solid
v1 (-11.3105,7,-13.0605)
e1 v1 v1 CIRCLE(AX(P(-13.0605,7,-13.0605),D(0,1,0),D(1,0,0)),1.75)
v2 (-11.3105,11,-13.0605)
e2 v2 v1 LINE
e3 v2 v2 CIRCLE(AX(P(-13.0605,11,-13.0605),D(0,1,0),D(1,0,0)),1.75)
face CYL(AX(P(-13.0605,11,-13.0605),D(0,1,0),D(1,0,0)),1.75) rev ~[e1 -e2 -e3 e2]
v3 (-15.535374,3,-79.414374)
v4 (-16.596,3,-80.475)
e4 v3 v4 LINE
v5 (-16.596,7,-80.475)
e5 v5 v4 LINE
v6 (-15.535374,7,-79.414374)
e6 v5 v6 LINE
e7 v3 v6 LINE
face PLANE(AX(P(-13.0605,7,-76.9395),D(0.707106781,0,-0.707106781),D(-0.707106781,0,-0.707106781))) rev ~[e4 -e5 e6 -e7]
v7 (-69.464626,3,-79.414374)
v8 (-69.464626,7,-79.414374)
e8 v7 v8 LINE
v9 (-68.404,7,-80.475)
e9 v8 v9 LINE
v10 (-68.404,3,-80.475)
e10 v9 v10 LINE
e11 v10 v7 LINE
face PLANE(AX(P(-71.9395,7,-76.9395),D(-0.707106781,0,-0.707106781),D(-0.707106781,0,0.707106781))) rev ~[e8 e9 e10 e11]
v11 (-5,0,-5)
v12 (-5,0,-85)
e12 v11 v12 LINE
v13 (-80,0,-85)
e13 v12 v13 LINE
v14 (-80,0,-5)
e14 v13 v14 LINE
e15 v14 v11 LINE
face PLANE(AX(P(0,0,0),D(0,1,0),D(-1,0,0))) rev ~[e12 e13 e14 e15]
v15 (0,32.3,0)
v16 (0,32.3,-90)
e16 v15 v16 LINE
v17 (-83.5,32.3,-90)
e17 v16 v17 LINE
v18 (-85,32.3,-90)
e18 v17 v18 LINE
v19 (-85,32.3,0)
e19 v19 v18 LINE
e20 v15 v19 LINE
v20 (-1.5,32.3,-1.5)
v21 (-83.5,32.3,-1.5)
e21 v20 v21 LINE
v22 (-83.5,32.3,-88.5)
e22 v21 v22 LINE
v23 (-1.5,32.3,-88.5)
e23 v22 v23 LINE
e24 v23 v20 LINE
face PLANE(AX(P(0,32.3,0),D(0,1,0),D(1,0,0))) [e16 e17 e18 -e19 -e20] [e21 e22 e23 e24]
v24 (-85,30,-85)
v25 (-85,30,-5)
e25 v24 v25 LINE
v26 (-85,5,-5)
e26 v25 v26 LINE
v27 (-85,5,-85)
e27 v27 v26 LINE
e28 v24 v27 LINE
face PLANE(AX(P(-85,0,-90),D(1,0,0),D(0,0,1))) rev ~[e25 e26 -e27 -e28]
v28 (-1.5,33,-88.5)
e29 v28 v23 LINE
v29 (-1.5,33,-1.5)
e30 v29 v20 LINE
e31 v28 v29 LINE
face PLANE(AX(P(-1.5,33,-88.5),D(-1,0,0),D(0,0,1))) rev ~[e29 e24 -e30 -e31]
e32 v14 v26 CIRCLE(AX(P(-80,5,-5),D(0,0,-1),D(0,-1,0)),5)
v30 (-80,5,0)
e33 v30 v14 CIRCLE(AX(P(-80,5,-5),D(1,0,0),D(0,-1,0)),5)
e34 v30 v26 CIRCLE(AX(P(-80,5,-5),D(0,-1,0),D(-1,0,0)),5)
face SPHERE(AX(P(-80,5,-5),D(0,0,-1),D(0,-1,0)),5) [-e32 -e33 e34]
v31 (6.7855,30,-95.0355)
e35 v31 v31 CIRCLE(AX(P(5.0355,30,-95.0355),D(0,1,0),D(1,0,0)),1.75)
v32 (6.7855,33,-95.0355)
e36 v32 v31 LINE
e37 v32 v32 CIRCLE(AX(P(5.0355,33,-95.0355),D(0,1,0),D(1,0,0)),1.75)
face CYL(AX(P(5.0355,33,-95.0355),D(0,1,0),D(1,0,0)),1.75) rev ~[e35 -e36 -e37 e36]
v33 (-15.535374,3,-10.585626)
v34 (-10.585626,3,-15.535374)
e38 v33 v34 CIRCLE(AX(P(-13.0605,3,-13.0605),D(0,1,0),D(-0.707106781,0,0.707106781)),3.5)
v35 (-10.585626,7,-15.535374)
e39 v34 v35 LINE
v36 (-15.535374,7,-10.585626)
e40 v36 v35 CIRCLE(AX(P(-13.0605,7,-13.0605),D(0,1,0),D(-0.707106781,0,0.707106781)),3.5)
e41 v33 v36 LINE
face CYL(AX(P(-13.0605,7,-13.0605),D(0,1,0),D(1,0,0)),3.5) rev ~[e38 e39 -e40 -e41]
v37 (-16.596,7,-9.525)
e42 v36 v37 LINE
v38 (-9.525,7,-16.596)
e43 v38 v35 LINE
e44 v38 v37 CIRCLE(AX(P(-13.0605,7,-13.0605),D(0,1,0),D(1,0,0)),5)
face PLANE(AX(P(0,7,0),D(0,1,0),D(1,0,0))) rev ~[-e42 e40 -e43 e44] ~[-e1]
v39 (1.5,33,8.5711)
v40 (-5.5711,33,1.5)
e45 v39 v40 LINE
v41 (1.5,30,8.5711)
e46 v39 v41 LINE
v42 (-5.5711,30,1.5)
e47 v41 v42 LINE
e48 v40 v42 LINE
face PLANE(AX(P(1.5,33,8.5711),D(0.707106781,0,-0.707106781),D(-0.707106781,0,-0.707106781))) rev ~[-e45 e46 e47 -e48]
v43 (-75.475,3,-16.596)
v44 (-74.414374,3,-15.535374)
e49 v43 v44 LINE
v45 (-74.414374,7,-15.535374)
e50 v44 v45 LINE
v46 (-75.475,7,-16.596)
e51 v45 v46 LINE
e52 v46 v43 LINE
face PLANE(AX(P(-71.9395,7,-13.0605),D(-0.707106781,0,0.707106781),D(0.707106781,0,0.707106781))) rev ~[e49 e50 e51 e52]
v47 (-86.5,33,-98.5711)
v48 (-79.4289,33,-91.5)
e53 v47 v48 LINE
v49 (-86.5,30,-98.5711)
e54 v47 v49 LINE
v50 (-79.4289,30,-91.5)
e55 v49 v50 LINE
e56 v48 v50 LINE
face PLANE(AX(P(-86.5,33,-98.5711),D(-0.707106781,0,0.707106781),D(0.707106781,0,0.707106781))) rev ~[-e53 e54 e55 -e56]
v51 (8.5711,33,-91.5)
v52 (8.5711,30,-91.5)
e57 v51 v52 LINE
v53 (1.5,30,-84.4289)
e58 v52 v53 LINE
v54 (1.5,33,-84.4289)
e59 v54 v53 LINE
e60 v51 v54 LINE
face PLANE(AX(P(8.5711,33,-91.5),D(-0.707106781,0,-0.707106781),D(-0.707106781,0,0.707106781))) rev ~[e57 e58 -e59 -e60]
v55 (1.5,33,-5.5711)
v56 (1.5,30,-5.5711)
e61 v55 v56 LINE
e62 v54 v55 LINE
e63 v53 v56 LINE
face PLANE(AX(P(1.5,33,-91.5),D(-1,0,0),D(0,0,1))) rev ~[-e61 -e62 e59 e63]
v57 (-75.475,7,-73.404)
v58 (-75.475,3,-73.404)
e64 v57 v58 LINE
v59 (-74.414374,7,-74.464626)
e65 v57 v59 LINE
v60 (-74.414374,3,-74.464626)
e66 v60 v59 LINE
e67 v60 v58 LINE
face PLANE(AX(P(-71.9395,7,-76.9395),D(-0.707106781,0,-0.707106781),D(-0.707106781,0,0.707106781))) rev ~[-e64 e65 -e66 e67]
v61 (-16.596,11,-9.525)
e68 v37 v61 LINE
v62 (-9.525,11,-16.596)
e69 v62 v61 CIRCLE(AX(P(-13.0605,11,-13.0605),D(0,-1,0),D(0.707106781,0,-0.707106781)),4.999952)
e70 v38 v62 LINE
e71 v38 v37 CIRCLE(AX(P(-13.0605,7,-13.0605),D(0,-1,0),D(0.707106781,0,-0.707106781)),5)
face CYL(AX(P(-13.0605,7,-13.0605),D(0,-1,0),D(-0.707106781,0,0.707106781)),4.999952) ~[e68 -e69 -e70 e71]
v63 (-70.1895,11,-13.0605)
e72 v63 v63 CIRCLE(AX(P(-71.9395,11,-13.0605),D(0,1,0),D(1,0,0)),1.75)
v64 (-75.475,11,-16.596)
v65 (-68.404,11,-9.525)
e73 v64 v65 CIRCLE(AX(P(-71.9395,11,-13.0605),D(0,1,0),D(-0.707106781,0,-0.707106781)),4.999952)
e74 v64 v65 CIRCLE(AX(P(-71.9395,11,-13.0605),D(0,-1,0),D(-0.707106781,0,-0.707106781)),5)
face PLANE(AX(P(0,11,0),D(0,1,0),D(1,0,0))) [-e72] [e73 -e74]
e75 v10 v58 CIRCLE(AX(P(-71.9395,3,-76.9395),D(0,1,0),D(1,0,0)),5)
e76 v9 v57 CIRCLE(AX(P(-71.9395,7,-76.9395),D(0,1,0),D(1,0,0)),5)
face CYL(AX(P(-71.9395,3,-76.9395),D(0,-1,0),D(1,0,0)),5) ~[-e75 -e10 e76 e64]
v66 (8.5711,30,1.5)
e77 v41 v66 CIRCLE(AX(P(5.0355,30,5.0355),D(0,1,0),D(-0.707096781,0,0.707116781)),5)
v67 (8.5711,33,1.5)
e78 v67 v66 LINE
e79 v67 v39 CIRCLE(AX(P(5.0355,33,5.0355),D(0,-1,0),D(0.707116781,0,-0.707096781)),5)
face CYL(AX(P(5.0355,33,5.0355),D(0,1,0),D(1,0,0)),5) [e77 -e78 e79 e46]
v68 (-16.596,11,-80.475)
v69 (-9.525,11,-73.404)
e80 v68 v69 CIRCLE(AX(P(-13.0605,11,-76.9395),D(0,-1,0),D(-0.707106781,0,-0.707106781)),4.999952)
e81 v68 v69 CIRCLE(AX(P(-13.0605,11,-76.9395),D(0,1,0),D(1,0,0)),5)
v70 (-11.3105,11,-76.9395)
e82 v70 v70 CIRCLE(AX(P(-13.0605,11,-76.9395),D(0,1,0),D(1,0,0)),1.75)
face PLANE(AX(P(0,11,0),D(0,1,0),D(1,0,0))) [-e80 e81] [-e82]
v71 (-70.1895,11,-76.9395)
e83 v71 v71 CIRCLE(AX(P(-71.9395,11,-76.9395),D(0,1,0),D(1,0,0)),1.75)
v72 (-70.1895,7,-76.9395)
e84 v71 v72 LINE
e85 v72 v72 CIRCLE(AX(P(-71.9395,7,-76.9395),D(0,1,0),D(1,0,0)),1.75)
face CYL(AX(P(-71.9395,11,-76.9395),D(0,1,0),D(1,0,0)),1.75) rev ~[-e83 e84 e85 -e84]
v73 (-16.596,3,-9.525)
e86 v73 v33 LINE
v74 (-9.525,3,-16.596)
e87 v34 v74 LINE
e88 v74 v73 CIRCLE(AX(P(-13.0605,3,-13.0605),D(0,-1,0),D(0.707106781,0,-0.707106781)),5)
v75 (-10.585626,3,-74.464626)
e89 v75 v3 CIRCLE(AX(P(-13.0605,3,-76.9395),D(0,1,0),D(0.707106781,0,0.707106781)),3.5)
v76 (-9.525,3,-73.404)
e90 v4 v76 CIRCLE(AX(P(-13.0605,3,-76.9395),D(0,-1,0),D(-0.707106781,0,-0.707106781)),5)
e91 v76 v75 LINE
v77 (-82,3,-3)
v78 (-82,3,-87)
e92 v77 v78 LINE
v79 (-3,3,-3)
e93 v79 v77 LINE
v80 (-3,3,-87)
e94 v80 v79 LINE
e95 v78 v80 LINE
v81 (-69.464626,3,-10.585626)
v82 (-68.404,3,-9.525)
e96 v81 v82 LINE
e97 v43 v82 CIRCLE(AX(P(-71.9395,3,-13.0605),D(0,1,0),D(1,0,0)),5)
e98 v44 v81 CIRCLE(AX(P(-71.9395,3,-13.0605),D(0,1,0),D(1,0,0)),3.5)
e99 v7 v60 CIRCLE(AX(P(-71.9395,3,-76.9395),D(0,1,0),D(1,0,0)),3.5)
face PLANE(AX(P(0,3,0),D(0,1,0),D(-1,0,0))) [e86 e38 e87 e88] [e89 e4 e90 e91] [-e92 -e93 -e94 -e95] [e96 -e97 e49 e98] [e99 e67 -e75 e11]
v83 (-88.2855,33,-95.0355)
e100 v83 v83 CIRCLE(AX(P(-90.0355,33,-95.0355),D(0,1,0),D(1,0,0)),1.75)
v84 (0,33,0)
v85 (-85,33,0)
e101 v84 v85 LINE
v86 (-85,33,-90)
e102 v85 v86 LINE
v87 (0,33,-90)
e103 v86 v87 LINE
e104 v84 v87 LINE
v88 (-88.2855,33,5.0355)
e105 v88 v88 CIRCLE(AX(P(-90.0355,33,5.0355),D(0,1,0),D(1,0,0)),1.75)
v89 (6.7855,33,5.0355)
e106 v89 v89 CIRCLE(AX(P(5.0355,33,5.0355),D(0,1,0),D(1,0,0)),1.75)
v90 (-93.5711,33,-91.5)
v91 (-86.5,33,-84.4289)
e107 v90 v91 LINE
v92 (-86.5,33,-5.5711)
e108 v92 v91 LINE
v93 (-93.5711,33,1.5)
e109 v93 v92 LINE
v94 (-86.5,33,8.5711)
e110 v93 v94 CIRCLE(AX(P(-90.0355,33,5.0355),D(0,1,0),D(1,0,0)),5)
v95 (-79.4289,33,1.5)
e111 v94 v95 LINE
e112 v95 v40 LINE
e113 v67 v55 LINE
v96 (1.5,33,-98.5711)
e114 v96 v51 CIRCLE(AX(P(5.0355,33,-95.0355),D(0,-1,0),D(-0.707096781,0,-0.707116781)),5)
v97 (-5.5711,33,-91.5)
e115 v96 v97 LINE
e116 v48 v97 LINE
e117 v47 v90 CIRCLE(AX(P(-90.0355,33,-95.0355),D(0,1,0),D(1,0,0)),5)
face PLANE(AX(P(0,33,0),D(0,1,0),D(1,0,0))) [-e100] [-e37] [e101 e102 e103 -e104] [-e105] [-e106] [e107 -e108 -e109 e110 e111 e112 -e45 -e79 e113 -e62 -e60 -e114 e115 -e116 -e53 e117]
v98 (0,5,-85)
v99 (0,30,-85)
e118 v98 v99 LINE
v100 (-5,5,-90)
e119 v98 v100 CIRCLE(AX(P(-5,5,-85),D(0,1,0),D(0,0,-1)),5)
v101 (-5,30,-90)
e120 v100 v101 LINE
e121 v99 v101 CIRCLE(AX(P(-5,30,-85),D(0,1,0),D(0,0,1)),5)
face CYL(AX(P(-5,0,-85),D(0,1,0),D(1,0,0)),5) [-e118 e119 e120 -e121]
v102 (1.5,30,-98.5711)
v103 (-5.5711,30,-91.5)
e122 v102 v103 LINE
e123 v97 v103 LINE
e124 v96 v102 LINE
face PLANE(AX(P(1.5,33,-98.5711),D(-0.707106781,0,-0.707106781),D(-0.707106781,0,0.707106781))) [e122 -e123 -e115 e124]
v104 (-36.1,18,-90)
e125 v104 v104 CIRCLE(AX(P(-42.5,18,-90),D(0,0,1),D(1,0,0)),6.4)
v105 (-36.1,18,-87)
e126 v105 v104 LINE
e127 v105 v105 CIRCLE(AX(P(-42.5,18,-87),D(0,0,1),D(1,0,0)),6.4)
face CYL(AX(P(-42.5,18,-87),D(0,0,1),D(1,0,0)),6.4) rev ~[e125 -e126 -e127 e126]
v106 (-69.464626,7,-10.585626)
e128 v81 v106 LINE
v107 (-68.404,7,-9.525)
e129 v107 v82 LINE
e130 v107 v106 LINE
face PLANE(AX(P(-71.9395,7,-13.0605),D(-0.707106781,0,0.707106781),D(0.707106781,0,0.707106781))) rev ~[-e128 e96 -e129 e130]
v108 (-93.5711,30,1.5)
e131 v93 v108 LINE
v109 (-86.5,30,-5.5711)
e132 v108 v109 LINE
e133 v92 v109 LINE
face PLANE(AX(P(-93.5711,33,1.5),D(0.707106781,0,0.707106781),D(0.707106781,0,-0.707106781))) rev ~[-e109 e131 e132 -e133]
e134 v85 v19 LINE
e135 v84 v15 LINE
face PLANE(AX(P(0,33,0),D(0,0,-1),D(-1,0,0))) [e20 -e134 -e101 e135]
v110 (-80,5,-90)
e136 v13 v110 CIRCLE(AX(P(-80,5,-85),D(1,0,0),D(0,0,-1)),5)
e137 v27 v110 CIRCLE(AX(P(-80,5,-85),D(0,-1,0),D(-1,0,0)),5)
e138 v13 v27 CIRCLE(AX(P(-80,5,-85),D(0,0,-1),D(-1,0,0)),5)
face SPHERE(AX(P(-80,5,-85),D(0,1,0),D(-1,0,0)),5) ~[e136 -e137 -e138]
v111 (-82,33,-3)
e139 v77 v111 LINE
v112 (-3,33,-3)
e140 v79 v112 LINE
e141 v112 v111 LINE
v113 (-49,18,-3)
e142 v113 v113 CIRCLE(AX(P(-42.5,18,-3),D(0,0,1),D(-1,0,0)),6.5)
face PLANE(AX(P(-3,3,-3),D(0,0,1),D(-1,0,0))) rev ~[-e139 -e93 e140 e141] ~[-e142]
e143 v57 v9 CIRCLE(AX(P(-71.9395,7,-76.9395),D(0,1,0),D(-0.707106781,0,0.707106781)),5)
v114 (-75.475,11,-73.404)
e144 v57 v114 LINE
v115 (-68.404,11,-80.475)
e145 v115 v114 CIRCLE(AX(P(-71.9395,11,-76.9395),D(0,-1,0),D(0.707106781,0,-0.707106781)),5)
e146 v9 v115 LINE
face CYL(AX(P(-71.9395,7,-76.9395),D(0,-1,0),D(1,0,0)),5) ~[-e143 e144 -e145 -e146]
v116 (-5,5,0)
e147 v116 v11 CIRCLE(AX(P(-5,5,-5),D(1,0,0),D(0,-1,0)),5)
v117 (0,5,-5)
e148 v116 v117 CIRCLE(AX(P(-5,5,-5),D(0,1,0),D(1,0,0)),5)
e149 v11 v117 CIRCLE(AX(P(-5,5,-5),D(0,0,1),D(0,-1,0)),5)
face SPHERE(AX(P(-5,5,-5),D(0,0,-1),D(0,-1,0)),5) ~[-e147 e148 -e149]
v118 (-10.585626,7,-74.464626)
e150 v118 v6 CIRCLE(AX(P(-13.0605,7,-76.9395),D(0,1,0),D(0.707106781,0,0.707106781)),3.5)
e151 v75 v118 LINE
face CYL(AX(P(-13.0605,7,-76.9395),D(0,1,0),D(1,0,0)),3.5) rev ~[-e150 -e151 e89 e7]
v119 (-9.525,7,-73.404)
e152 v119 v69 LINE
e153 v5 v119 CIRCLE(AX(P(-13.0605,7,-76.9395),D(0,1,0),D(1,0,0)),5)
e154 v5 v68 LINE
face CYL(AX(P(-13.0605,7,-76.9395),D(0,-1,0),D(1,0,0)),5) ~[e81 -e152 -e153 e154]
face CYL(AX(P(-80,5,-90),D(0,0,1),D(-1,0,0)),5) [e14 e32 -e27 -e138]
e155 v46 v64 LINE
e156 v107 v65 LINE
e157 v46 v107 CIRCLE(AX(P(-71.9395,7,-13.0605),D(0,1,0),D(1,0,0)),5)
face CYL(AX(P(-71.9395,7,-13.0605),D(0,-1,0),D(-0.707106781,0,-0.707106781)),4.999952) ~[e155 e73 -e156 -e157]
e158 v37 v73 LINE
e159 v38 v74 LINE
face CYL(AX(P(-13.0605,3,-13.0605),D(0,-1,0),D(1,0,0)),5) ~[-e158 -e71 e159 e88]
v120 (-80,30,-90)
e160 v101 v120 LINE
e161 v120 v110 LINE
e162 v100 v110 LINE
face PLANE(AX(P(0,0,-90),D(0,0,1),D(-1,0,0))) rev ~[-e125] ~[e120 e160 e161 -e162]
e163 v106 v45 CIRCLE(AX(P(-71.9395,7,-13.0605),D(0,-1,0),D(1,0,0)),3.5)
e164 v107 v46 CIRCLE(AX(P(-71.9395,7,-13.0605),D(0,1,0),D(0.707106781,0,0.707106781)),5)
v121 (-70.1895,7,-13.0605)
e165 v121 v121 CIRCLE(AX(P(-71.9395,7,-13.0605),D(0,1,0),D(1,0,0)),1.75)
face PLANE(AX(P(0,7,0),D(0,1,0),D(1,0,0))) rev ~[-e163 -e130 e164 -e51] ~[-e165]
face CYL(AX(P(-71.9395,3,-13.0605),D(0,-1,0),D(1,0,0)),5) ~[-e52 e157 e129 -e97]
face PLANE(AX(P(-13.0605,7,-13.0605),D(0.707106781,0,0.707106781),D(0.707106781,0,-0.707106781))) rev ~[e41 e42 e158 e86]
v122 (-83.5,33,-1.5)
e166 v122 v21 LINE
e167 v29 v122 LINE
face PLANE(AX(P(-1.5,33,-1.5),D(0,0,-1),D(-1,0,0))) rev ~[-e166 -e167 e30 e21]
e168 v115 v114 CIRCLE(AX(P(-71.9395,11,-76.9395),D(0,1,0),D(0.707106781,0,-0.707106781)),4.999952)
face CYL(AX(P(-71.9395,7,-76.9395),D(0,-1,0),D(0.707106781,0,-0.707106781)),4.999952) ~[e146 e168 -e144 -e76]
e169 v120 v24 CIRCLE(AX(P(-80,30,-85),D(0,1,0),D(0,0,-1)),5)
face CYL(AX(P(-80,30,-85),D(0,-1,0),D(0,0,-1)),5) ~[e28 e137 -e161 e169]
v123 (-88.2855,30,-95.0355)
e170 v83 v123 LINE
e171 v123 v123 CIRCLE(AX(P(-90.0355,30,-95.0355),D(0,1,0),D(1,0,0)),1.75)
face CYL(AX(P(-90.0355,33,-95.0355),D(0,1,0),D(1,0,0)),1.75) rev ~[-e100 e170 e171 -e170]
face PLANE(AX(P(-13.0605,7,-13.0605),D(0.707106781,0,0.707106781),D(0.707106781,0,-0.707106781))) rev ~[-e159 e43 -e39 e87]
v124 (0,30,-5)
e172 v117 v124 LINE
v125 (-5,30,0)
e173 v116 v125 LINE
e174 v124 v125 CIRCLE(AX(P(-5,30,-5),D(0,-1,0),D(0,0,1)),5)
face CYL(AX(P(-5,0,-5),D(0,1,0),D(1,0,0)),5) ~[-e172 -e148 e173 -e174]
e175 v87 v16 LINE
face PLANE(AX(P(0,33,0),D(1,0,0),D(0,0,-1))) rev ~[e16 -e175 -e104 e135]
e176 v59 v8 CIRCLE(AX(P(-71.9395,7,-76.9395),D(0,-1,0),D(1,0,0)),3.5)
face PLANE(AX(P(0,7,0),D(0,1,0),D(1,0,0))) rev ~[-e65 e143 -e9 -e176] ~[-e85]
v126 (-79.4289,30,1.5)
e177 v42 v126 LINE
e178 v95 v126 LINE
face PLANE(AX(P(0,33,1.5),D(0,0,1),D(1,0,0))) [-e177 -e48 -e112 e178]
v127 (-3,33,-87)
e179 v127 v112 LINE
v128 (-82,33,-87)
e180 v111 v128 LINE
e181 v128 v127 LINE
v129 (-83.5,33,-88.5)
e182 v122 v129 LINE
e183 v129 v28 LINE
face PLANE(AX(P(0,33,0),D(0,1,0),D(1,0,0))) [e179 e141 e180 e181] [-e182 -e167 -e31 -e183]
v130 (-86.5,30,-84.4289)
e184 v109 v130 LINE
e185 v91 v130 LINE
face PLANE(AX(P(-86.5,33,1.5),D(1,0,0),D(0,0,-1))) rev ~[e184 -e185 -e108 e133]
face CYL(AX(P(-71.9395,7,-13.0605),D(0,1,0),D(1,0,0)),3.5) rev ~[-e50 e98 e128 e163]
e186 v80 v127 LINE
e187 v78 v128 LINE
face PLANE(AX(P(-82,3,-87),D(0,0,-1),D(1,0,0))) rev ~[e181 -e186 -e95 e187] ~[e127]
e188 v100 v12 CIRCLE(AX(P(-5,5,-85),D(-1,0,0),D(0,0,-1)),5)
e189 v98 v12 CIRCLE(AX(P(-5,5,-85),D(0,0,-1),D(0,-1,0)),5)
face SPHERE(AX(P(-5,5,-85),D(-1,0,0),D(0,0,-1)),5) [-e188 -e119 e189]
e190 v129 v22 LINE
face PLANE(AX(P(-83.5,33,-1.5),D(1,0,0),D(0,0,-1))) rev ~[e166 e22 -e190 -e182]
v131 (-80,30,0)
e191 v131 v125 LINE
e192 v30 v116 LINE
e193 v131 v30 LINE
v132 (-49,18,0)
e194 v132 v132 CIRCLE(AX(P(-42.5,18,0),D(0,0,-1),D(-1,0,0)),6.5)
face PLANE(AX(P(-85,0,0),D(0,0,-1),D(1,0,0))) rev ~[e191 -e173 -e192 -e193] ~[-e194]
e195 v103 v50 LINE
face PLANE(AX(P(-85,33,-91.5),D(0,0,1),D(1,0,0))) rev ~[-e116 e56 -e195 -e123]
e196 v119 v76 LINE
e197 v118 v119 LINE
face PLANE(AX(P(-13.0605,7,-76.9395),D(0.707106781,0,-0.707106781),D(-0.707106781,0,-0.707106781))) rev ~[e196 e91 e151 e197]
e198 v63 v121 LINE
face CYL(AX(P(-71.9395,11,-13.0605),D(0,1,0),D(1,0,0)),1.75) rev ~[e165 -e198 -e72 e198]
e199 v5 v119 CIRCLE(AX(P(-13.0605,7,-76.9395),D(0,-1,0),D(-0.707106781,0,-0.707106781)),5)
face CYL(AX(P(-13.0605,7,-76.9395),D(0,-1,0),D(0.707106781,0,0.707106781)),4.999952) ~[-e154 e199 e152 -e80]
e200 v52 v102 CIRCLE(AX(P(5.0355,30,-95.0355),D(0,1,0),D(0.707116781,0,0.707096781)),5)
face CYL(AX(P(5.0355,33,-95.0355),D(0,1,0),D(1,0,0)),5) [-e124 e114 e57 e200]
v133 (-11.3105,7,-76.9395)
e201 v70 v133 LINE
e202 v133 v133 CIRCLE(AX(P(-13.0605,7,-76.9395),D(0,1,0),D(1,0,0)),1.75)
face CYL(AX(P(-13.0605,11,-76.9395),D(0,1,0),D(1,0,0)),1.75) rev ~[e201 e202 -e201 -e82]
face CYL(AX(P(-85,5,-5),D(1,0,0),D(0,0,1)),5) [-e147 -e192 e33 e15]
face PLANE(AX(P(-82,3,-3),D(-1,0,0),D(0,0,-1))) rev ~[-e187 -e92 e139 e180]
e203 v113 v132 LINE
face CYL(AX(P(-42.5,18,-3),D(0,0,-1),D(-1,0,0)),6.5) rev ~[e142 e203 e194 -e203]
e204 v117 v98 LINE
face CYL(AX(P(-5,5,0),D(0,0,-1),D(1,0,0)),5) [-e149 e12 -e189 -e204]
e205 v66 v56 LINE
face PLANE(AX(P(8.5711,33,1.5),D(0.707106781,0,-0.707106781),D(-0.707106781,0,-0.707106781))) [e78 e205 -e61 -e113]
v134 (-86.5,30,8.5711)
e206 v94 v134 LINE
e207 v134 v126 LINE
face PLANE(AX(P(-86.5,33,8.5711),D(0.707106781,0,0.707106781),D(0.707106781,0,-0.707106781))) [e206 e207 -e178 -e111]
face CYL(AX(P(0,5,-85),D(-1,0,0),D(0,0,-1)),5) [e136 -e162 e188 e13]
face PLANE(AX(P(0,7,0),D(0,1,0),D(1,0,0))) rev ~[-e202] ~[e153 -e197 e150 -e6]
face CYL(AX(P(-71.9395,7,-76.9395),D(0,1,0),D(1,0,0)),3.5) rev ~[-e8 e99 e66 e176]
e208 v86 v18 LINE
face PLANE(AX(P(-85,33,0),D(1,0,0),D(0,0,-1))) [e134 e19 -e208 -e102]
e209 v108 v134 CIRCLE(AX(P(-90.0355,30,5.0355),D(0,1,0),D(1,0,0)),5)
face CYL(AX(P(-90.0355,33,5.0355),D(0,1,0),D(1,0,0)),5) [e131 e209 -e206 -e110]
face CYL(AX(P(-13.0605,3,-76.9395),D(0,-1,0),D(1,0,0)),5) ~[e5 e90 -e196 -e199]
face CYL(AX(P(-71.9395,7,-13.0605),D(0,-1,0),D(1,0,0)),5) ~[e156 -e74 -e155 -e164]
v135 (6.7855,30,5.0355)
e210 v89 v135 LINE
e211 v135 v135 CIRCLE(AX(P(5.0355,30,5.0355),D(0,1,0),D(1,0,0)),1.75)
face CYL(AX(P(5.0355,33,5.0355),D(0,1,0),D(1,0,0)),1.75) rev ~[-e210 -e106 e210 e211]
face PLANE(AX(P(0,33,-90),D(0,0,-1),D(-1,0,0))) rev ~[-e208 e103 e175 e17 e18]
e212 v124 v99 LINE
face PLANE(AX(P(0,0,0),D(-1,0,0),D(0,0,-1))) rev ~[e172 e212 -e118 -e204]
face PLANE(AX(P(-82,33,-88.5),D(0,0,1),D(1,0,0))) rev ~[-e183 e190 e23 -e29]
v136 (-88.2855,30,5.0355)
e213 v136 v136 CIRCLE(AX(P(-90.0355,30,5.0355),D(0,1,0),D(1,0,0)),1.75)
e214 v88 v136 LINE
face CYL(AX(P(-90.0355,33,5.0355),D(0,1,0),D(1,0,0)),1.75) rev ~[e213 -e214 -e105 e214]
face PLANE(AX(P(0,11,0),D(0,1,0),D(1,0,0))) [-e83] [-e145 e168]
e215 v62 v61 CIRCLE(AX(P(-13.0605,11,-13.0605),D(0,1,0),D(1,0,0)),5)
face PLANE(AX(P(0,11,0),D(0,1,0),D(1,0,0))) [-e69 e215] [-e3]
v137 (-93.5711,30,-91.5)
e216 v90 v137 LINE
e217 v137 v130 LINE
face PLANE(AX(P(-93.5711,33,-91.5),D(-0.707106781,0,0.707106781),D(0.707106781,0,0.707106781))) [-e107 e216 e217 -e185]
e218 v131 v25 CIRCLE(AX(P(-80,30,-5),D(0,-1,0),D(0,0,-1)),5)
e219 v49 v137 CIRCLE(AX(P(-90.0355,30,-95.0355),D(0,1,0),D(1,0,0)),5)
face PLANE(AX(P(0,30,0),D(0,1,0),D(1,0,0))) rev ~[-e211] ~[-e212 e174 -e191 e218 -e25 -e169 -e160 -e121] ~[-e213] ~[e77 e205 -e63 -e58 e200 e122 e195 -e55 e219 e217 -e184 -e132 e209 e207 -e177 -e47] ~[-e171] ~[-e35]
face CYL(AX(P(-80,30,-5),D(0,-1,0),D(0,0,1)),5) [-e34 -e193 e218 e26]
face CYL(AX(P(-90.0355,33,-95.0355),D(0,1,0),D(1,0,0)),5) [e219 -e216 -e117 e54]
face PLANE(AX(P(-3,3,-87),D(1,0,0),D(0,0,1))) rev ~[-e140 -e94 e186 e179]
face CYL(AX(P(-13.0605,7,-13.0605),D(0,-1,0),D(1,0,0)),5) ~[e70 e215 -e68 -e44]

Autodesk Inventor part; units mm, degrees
ref_plane "YZ Plane" through (0, 0, 0) normal (1, 0, 0) x (0, 1, 0)
ref_plane "XZ Plane" through (0, 0, 0) normal (0, 1, 0) x (-1, 0, 0)
ref_plane "XY Plane" through (0, 0, 0) normal (0, 0, 1) x (1, 0, 0)
sketch "Sketch1" plane through (0, 0, 0) normal (0, 1, 0) x (-1, 0, 0)
  point P0 (0, 0)
sketch "Sketch2" plane through (0, 0, 0) normal (0, 1, 0) x (-1, 0, 0)
  line L0 (0, 0) -> (0, -90)
  line L1 (0, -90) -> (85, -90)
  line L2 (85, -90) -> (85, 0)
  line L3 (85, 0) -> (0, 0)
  dimension "d0" = 90
  dimension "d1" = 85
extrude "Extrusion1" add sketch "Sketch2" along normal blind 3
sketch "Sketch3" plane through (0, 3, 0) normal (0, 1, 0) x (1, 0, 0)
  line L0 (0, 0) -> (0, 3)
  line L1 (0, 0) -> (0, 90) projected
  line L2 (0, 3) -> (0, 0)
  line L3 (-85, 90) -> (-85, 0) projected
  line L4 (0, 90) -> (-85, 90) projected
  line L5 (-3, 3) -> (-82, 3)
  line L6 (-82, 3) -> (-82, 87)
  line L7 (-82, 87) -> (-3, 87)
  line L8 (-3, 87) -> (-3, 3)
  line L9 (0, 90) -> (-85, 90) projected
  line L10 (-85, 0) -> (0, 0) projected
  line L11 (-85, 90) -> (0, 90)
  line L12 (0, 90) -> (0, 0)
  line L13 (0, 0) -> (-85, 0)
  line L14 (-85, 0) -> (-85, 90)
extrude "Extrusion2" add sketch "Sketch3" along normal blind 30
sketch "Sketch7" plane through (-82, 3, -87) normal (0, 0, 1) x (1, 0, 0)
  point P0 (82, -3)
sketch "Sketch8" plane through (0, 33, 0) normal (0, 1, 0) x (1, 0, 0)
  line L0 (-3, 3) -> (-3, 87) projected
  line L1 (-3, 87) -> (-82, 87) projected
  line L2 (-82, 87) -> (-82, 3) projected
  line L3 (-82, 3) -> (-3, 3) projected
  line L4 (0, 0) -> (0, 90) projected
  line L5 (0, 90) -> (-85, 90) projected
  line L6 (-85, 90) -> (-85, 0) projected
  line L7 (-85, 0) -> (0, 0) projected
  line L8 (-3, 3) -> (-82, 3) projected
  line L9 (-82, 3) -> (-82, 87) projected
  line L10 (-82, 87) -> (-3, 87) projected
  line L11 (-3, 87) -> (-3, 3) projected
  line L12 (-85, 90) -> (-85, 0) projected
  line L13 (0, 0) -> (0, 90) projected
  line L14 (-85, 90) -> (0, 90)
  line L15 (0, 90) -> (0, 0)
  line L16 (0, 0) -> (-85, 0)
  line L17 (-85, 0) -> (-85, 90)
  line L18 (0, 90) -> (-85, 90) projected
  line L19 (-85, 91.5) -> (-86.5, 91.5)
  line L20 (0, -1.5) -> (1.5, -1.5)
  line L21 (-86.5, 91.5) -> (1.5, 91.5)
  line L22 (1.5, 91.5) -> (1.5, -1.5)
  line L23 (1.5, -1.5) -> (-86.5, -1.5)
  line L24 (-86.5, -1.5) -> (-86.5, 91.5)
  dimension "d26" = 1.5
  dimension "d27" = 1.5
  dimension "d28" = 1.5
  dimension "d29" = 1.5
extrude "Extrusion5" add sketch "Sketch8" against normal blind 3 contours L21 L22 L20 L23 L24 L19
sketch "Sketch9" plane through (0, 33, 0) normal (0, 1, 0) x (1, 0, 0)
  line L0 (-3, 3) -> (-3, 87) projected
  line L1 (-3, 87) -> (-82, 87) projected
  line L2 (-82, 87) -> (-82, 3) projected
  line L3 (-82, 3) -> (-3, 3) projected
  line L4 (1.5, 91.5) -> (-86.5, 91.5) projected
  line L5 (-86.5, 91.5) -> (-86.5, -1.5) projected
  line L6 (-86.5, -1.5) -> (1.5, -1.5) projected
  line L7 (1.5, -1.5) -> (1.5, 91.5) projected
  line L8 (-3, 3) -> (-82, 3) projected
  line L9 (-82, 3) -> (-82, 87) projected
  line L10 (-82, 87) -> (-3, 87) projected
  line L11 (-3, 87) -> (-3, 3) projected
  line L12 (-82, 3) -> (-82, 87) projected
  line L13 (-82, 87) -> (-82, 88.5)
  line L14 (-82, 88.5) -> (-83.5, 88.5)
  line L15 (-3, 87) -> (-3, 3) projected
  line L16 (-3, 3) -> (-1.5, 3)
  line L17 (-1.5, 3) -> (-1.5, 1.5)
  line L18 (-1.5, 1.5) -> (-83.5, 1.5)
  line L19 (-83.5, 1.5) -> (-83.5, 88.5)
  line L20 (-83.5, 88.5) -> (-1.5, 88.5)
  line L21 (-1.5, 88.5) -> (-1.5, 1.5)
  line L22 (-83.5, 88.5) -> (-83.5, 90)
  line L23 (0, 90) -> (-85, 90) projected
  line L24 (-83.5, 90) -> (-85, 90)
  line L25 (0, 0) -> (0, 90) projected
  line L26 (0, 0) -> (-85, 0)
  line L27 (-85, 0) -> (-85, 90)
  line L28 (-85, 90) -> (0, 90)
  line L29 (0, 90) -> (0, 0)
  dimension "d33" = 1.5
  dimension "d34" = 1.5
  dimension "d35" = 1.5
  dimension "d36" = 1.5
  dimension "d37" = 1.5
extrude "Extrusion6" cut sketch "Sketch9" against normal blind 0.7 contours L23 L25 L26 L27
sketch "Sketch10" plane through (-82, 3, -87) normal (0, 0, 1) x (1, 0, 0)
  line L0 (0, 30) -> (79, 30)
  line L1 (79, 30) -> (79, 0)
  line L2 (79, 0) -> (0, 0)
  line L3 (0, 0) -> (0, 30)
  line L4 (0, 30) -> (79, 30) projected
  line L5 (79, 0) -> (0, 0) projected
  circle A0 centre (39.5, 15) radius 6.4
  point P0 (82, -3)
  dimension "d40" = 12.8
extrude "Extrusion7" cut sketch "Sketch10" against normal blind 3 contours A0
sketch "Sketch11" plane through (-3, 3, -3) normal (0, 0, -1) x (-1, 0, 0)
  line L0 (0, 30) -> (79, 30) projected
  line L1 (79, 0) -> (0, 0)
  line L2 (0, 0) -> (0, 30)
  line L3 (0, 30) -> (79, 30)
  line L4 (79, 30) -> (79, 0)
  line L5 (79, 30) -> (0, 0)
  line L6 (79, 0) -> (0, 0) projected
  line L7 (0, 30) -> (79, 0)
  circle A0 centre (39.5, 15) radius 6.5
  point P0 (-3, -3)
  dimension "d43" = 13
extrude "Extrusion8" cut sketch "Sketch11" against normal blind 3 contours A0 L5 L7 | L7 L5 A0 | A0 L7 L5 | L5 L7 A0
sketch "Sketch12" plane through (0, 3, 0) normal (0, 1, 0) x (1, 0, 0)
  line L0 (-3, 3) -> (-3, 87) projected
  line L1 (-3, 87) -> (-82, 87) projected
  line L2 (-82, 87) -> (-82, 3) projected
  line L3 (-82, 3) -> (-3, 3) projected
  line L4 (-3, 87) -> (-3, 3) projected
  line L5 (-3, 3) -> (-82, 3) projected
  line L6 (-82, 87) -> (-3, 87) projected
  line L7 (-71.9395, 76.9395) -> (-13.0605, 13.0605) construction
  line L8 (-13.0605, 76.9395) -> (-71.9395, 13.0605) construction
  circle A0 centre (-13.0605, 13.0605) radius 5
  circle A1 centre (-13.0605, 76.9395) radius 5
  circle A2 centre (-71.9395, 76.9395) radius 5
  line L9 (-66.9395, 13.0605) -> (-62.9395, 13.0605) construction
  circle A3 centre (-71.9395, 13.0605) radius 5
  point P0 (0, 0)
  point P1 (-42.5, 45)
  dimension "d60" = 10
  dimension "d61" = 10
  dimension "d62" = 10
  dimension "d65" = 10
extrude "Extrusion10" add sketch "Sketch12" along normal blind 4 contours A0 | A1 | A2 | A3
sketch "Sketch14" plane through (-71.9395, 7, -13.0605) normal (0, 1, 0) x (1, 0, 0)
  circle A0 centre (0, 0) radius 5 projected
  circle A1 centre (0, 63.879) radius 5 projected
  circle A2 centre (58.879, 0) radius 5 projected
  circle A3 centre (58.879, 63.879) radius 5 projected
  circle A4 centre (0, 0) radius 5 projected
  circle A5 centre (0, 0) radius 5
  circle A6 centre (0, 63.879) radius 5 projected
  circle A7 centre (0, 63.879) radius 5
  circle A8 centre (58.879, 63.879) radius 5
  circle A9 centre (58.879, 0) radius 5
  line L0 (0, 0) -> (-3.5355, 3.5355)
  line L1 (0, 0) -> (5, 0) construction
  line L2 (-3.5355, 3.5355) -> (3.5355, -3.5355)
  line L3 (0, 63.879) -> (-3.5355, 60.3435)
  line L4 (-3.5355, 60.3435) -> (3.5355, 67.4145)
  line L5 (58.879, 63.879) -> (55.3435, 67.4145)
  circle A10 centre (58.879, 63.879) radius 5 projected
  line L6 (55.3435, 67.4145) -> (62.4145, 60.3435)
  line L7 (58.879, 0) -> (55.3435, -3.5355)
  circle A11 centre (58.879, 0) radius 5 projected
  line L8 (55.3435, -3.5355) -> (62.4145, 3.5355)
  point P0 (71.9395, -13.0605)
  point P1 (62.4145, 3.5355)
  point P2 (3.5355, 67.4145)
  point P3 (-3.5355, 60.3435)
  point P4 (3.5355, -3.5355)
  point P5 (-3.5355, 3.5355)
  dimension "d68" = 135
extrude "Extrusion11" cut sketch "Sketch14" against normal blind 4 contours A0 L2 L0 | A1 L3 L4 | L8 L7 A2 | L5 L6 A3 picked at (2.7524, 1.8391) picked at (3.1056, 62.7333) picked at (57.1671, 2.8318) picked at (55.576, 63.6792)
sketch "Sketch15" plane through (0, 7, 0) normal (0, 1, 0) x (1, 0, 0)
  line L0 (-68.404, 9.525) -> (-75.475, 16.596) projected
  arc A0 (-75.475, 16.596) -> (-68.404, 9.525) centre (-71.9395, 13.0605) ccw projected
  line L1 (-75.475, 73.404) -> (-68.404, 80.475) projected
  arc A1 (-68.404, 80.475) -> (-75.475, 73.404) centre (-71.9395, 76.9395) ccw projected
  line L2 (-16.596, 80.475) -> (-9.525, 73.404) projected
  arc A2 (-9.525, 73.404) -> (-16.596, 80.475) centre (-13.0605, 76.9395) ccw projected
  line L3 (-9.525, 16.596) -> (-16.596, 9.525) projected
  arc A3 (-16.596, 9.525) -> (-9.525, 16.596) centre (-13.0605, 13.0605) ccw projected
  circle A4 centre (-71.9395, 13.0605) radius 3.5
  circle A5 centre (-71.9395, 76.9395) radius 3.5
  circle A6 centre (-13.0605, 76.9395) radius 3.5
  circle A7 centre (-13.0605, 13.0605) radius 3.5
  point P0 (0, 0)
  dimension "d71" = 7
  dimension "d72" = 7
  dimension "d73" = 7
  dimension "d74" = 7
extrude "Extrusion12" cut sketch "Sketch15" against normal blind 4 contours A4 L0 | L0 A4 | A5 L1 | L1 A5 | A6 L2 | L2 A6 | A7 L3 | L3 A7
sketch "Sketch16" plane through (0, 7, 0) normal (0, 1, 0) x (1, 0, 0)
  arc A0 (-74.4144, 15.5354) -> (-69.4646, 10.5856) centre (-71.9395, 13.0605) ccw projected
  line L0 (-74.4144, 15.5354) -> (-75.475, 16.596) projected
  arc A1 (-75.475, 16.596) -> (-68.404, 9.525) centre (-71.9395, 13.0605) ccw projected
  line L1 (-68.404, 9.525) -> (-69.4646, 10.5856) projected
  arc A2 (-15.5354, 10.5856) -> (-10.5856, 15.5354) centre (-13.0605, 13.0605) ccw projected
  line L2 (-15.5354, 10.5856) -> (-16.596, 9.525) projected
  arc A3 (-16.596, 9.525) -> (-9.525, 16.596) centre (-13.0605, 13.0605) ccw projected
  line L3 (-9.525, 16.596) -> (-10.5856, 15.5354) projected
  arc A4 (-10.5856, 74.4646) -> (-15.5354, 79.4144) centre (-13.0605, 76.9395) ccw projected
  line L4 (-10.5856, 74.4646) -> (-9.525, 73.404) projected
  arc A5 (-9.525, 73.404) -> (-16.596, 80.475) centre (-13.0605, 76.9395) ccw projected
  line L5 (-16.596, 80.475) -> (-15.5354, 79.4144) projected
  arc A6 (-69.4646, 79.4144) -> (-74.4144, 74.4646) centre (-71.9395, 76.9395) ccw projected
  line L6 (-69.4646, 79.4144) -> (-68.404, 80.475) projected
  arc A7 (-68.404, 80.475) -> (-75.475, 73.404) centre (-71.9395, 76.9395) ccw projected
  line L7 (-75.475, 73.404) -> (-74.4144, 74.4646) projected
  circle A8 centre (-71.9395, 13.0605) radius 5
  arc A9 (-68.404, 80.475) -> (-75.475, 73.404) centre (-71.9395, 76.9395) ccw projected
  circle A10 centre (-71.9395, 76.9395) radius 5
  circle A11 centre (-13.0605, 76.9395) radius 5
  circle A12 centre (-13.0605, 13.0605) radius 5
  point P0 (0, 0)
  point P1 (-75.475, 73.404)
  point P2 (-16.596, 80.475)
  point P3 (-68.404, 9.525)
  point P4 (-9.525, 16.596)
extrude "Extrusion13" add sketch "Sketch16" along normal blind 4
sketch "Sketch17" plane through (-13.0605, 11, -76.9395) normal (0, 1, 0) x (1, 0, 0)
  circle A0 centre (0, 0) radius 5 projected
  circle A1 centre (0, -63.879) radius 5 projected
  circle A2 centre (-58.879, 0) radius 5 projected
  circle A3 centre (-58.879, -63.879) radius 5 projected
  circle A4 centre (0, 0) radius 1.75
  arc A5 (3.5355, -60.3435) -> (-3.5355, -67.4145) centre (0, -63.879) ccw projected
  circle A6 centre (0, -63.879) radius 1.75
  circle A7 centre (-58.879, -63.879) radius 1.75
  circle A8 centre (-58.879, 0) radius 5 projected
  circle A9 centre (-58.879, 0) radius 1.75
  point P0 (13.0605, -76.9395)
  dimension "d79" = 3.5
  dimension "d80" = 3.5
  dimension "d81" = 3.5
  dimension "d82" = 3.5
extrude "Extrusion14" cut sketch "Sketch17" against normal blind 4 contours A4 | A6 | A7 | A9
sketch "Sketch18" plane through (1.5, 33, -91.5) normal (0, 0, -1) x (-1, 0, 0)
  point P0 (1.5, -33)
sketch "Sketch20" plane through (0, 33, 0) normal (0, 1, 0) x (1, 0, 0)
  line L0 (1.5, 91.5) -> (1.5, -1.5) projected
  line L1 (1.5, -1.5) -> (5.0355, -5.0355)
  line L2 (1.5, -1.5) -> (6.5, -1.5) construction
  circle A0 centre (5.0355, -5.0355) radius 5
  line L3 (5.0355, -5.0355) -> (8.5711, -1.5)
  line L4 (8.5711, -1.5) -> (1.5, -8.5711)
  line L5 (1.5, -8.5711) -> (-5.5711, -1.5)
  line L6 (1.5, -1.5) -> (-86.5, -1.5) projected
  line L7 (8.5711, -1.5) -> (1.5, 5.5711)
  line L8 (-86.5, 91.5) -> (-86.5, -1.5) projected
  line L9 (-86.5, -1.5) -> (-90.0355, -5.0355)
  line L10 (-86.5, -1.5) -> (-81.5, -1.5) construction
  circle A1 centre (-90.0355, -5.0355) radius 5
  line L11 (-90.0355, -5.0355) -> (-86.5, -8.5711)
  line L12 (-86.5, -8.5711) -> (-93.5711, -1.5)
  line L13 (-93.5711, -1.5) -> (-86.5, 5.5711)
  line L14 (-86.5, -8.5711) -> (-79.4289, -1.5)
  line L15 (-86.5, 91.5) -> (-90.0355, 95.0355)
  line L16 (-86.5, 91.5) -> (-81.5, 91.5) construction
  circle A2 centre (-90.0355, 95.0355) radius 5
  line L17 (-90.0355, 95.0355) -> (-93.5711, 91.5)
  line L18 (-93.5711, 91.5) -> (-86.5, 98.5711)
  line L19 (-93.5711, 91.5) -> (-86.5, 84.4289)
  line L20 (-86.5, 98.5711) -> (-79.4289, 91.5)
  line L21 (-86.5, 91.5) -> (1.5, 91.5) projected
  line L22 (1.5, 91.5) -> (5.0355, 95.0355)
  line L23 (1.5, 91.5) -> (6.5, 91.5) construction
  circle A3 centre (5.0355, 95.0355) radius 5
  line L24 (5.0355, 95.0355) -> (8.5711, 91.5)
  line L25 (8.5711, 91.5) -> (1.5, 98.5711)
  line L26 (1.5, 98.5711) -> (-5.5711, 91.5)
  line L27 (8.5711, 91.5) -> (1.5, 84.4289)
  point P0 (0, 0)
  dimension "d85" = 5
  dimension "d86" = 45
  dimension "d87" = 5
  dimension "d88" = 135
  dimension "d89" = 5
  dimension "d90" = 135
  dimension "d91" = 5
  dimension "d92" = 45
extrude "Extrusion15" add sketch "Sketch20" against normal blind 3 contours A3 L27 L0 | A3 L25 L22 | L21 L26 A3 | L22 L24 A3 | L25 A3 L24 | L7 A0 L0 | L21 A2 L20 | A0 L3 L1 | L1 L4 A0 | A0 L5 L6 | A0 L4 L3 | L18 L17 A2 | A2 L15 L18 | A2 L17 L15 | L8 L19 A2 | L14 A1 L6 | L8 A1 L13 | A1 L11 L9 | L9 L12 A1 | A1 L12 L11
sketch "Sketch21" plane through (0, 33, 0) normal (0, 1, 0) x (1, 0, 0)
  line L0 (-5.5711, 91.5) -> (-79.4289, 91.5) projected
  line L1 (-79.4289, 91.5) -> (-86.5, 98.5711) projected
  arc A0 (-86.5, 98.5711) -> (-93.5711, 91.5) centre (-90.0355, 95.0355) ccw projected
  line L2 (-93.5711, 91.5) -> (-86.5, 84.4289) projected
  line L3 (-86.5, 84.4289) -> (-86.5, 5.5711) projected
  line L4 (-86.5, 5.5711) -> (-93.5711, -1.5) projected
  arc A1 (-93.5711, -1.5) -> (-86.5, -8.5711) centre (-90.0355, -5.0355) ccw projected
  line L5 (-86.5, -8.5711) -> (-79.4289, -1.5) projected
  line L6 (-79.4289, -1.5) -> (-5.5711, -1.5) projected
  line L7 (-5.5711, -1.5) -> (1.5, -8.5711) projected
  arc A2 (1.5, -8.5711) -> (8.5711, -1.5) centre (5.0355, -5.0355) ccw projected
  line L8 (8.5711, -1.5) -> (1.5, 5.5711) projected
  line L9 (1.5, 5.5711) -> (1.5, 84.4289) projected
  line L10 (1.5, 84.4289) -> (8.5711, 91.5) projected
  arc A3 (8.5711, 91.5) -> (1.5, 98.5711) centre (5.0355, 95.0355) ccw projected
  line L11 (1.5, 98.5711) -> (-5.5711, 91.5) projected
  line L12 (0, 0) -> (-85, 0) projected
  line L13 (-85, 0) -> (-85, 90) projected
  line L14 (-85, 90) -> (0, 90) projected
  line L15 (0, 90) -> (0, 0) projected
  circle A4 centre (5.0355, -5.0355) radius 1.75
  circle A5 centre (5.0355, 95.0355) radius 1.75
  circle A6 centre (-90.0355, 95.0355) radius 1.75
  circle A7 centre (-90.0355, -5.0355) radius 1.75
  dimension "d95" = 3.5
  dimension "d96" = 3.5
  dimension "d97" = 3.5
  dimension "d98" = 3.5
extrude "Extrusion16" cut sketch "Sketch21" against normal blind 3 contours A4 | A5 | A6 | A7
fillet "Fillet1" radius 5 8 edges at (-85, 15, -90) (-85, 0, -45) (-42.5, 0, -90) (0, 15, -90) (0, 0, -45) (-42.5, 0, 0) (-85, 15, 0) (0, 15, 0)
properties part number "Base inferior" material "Steel, Mild, Welded"
